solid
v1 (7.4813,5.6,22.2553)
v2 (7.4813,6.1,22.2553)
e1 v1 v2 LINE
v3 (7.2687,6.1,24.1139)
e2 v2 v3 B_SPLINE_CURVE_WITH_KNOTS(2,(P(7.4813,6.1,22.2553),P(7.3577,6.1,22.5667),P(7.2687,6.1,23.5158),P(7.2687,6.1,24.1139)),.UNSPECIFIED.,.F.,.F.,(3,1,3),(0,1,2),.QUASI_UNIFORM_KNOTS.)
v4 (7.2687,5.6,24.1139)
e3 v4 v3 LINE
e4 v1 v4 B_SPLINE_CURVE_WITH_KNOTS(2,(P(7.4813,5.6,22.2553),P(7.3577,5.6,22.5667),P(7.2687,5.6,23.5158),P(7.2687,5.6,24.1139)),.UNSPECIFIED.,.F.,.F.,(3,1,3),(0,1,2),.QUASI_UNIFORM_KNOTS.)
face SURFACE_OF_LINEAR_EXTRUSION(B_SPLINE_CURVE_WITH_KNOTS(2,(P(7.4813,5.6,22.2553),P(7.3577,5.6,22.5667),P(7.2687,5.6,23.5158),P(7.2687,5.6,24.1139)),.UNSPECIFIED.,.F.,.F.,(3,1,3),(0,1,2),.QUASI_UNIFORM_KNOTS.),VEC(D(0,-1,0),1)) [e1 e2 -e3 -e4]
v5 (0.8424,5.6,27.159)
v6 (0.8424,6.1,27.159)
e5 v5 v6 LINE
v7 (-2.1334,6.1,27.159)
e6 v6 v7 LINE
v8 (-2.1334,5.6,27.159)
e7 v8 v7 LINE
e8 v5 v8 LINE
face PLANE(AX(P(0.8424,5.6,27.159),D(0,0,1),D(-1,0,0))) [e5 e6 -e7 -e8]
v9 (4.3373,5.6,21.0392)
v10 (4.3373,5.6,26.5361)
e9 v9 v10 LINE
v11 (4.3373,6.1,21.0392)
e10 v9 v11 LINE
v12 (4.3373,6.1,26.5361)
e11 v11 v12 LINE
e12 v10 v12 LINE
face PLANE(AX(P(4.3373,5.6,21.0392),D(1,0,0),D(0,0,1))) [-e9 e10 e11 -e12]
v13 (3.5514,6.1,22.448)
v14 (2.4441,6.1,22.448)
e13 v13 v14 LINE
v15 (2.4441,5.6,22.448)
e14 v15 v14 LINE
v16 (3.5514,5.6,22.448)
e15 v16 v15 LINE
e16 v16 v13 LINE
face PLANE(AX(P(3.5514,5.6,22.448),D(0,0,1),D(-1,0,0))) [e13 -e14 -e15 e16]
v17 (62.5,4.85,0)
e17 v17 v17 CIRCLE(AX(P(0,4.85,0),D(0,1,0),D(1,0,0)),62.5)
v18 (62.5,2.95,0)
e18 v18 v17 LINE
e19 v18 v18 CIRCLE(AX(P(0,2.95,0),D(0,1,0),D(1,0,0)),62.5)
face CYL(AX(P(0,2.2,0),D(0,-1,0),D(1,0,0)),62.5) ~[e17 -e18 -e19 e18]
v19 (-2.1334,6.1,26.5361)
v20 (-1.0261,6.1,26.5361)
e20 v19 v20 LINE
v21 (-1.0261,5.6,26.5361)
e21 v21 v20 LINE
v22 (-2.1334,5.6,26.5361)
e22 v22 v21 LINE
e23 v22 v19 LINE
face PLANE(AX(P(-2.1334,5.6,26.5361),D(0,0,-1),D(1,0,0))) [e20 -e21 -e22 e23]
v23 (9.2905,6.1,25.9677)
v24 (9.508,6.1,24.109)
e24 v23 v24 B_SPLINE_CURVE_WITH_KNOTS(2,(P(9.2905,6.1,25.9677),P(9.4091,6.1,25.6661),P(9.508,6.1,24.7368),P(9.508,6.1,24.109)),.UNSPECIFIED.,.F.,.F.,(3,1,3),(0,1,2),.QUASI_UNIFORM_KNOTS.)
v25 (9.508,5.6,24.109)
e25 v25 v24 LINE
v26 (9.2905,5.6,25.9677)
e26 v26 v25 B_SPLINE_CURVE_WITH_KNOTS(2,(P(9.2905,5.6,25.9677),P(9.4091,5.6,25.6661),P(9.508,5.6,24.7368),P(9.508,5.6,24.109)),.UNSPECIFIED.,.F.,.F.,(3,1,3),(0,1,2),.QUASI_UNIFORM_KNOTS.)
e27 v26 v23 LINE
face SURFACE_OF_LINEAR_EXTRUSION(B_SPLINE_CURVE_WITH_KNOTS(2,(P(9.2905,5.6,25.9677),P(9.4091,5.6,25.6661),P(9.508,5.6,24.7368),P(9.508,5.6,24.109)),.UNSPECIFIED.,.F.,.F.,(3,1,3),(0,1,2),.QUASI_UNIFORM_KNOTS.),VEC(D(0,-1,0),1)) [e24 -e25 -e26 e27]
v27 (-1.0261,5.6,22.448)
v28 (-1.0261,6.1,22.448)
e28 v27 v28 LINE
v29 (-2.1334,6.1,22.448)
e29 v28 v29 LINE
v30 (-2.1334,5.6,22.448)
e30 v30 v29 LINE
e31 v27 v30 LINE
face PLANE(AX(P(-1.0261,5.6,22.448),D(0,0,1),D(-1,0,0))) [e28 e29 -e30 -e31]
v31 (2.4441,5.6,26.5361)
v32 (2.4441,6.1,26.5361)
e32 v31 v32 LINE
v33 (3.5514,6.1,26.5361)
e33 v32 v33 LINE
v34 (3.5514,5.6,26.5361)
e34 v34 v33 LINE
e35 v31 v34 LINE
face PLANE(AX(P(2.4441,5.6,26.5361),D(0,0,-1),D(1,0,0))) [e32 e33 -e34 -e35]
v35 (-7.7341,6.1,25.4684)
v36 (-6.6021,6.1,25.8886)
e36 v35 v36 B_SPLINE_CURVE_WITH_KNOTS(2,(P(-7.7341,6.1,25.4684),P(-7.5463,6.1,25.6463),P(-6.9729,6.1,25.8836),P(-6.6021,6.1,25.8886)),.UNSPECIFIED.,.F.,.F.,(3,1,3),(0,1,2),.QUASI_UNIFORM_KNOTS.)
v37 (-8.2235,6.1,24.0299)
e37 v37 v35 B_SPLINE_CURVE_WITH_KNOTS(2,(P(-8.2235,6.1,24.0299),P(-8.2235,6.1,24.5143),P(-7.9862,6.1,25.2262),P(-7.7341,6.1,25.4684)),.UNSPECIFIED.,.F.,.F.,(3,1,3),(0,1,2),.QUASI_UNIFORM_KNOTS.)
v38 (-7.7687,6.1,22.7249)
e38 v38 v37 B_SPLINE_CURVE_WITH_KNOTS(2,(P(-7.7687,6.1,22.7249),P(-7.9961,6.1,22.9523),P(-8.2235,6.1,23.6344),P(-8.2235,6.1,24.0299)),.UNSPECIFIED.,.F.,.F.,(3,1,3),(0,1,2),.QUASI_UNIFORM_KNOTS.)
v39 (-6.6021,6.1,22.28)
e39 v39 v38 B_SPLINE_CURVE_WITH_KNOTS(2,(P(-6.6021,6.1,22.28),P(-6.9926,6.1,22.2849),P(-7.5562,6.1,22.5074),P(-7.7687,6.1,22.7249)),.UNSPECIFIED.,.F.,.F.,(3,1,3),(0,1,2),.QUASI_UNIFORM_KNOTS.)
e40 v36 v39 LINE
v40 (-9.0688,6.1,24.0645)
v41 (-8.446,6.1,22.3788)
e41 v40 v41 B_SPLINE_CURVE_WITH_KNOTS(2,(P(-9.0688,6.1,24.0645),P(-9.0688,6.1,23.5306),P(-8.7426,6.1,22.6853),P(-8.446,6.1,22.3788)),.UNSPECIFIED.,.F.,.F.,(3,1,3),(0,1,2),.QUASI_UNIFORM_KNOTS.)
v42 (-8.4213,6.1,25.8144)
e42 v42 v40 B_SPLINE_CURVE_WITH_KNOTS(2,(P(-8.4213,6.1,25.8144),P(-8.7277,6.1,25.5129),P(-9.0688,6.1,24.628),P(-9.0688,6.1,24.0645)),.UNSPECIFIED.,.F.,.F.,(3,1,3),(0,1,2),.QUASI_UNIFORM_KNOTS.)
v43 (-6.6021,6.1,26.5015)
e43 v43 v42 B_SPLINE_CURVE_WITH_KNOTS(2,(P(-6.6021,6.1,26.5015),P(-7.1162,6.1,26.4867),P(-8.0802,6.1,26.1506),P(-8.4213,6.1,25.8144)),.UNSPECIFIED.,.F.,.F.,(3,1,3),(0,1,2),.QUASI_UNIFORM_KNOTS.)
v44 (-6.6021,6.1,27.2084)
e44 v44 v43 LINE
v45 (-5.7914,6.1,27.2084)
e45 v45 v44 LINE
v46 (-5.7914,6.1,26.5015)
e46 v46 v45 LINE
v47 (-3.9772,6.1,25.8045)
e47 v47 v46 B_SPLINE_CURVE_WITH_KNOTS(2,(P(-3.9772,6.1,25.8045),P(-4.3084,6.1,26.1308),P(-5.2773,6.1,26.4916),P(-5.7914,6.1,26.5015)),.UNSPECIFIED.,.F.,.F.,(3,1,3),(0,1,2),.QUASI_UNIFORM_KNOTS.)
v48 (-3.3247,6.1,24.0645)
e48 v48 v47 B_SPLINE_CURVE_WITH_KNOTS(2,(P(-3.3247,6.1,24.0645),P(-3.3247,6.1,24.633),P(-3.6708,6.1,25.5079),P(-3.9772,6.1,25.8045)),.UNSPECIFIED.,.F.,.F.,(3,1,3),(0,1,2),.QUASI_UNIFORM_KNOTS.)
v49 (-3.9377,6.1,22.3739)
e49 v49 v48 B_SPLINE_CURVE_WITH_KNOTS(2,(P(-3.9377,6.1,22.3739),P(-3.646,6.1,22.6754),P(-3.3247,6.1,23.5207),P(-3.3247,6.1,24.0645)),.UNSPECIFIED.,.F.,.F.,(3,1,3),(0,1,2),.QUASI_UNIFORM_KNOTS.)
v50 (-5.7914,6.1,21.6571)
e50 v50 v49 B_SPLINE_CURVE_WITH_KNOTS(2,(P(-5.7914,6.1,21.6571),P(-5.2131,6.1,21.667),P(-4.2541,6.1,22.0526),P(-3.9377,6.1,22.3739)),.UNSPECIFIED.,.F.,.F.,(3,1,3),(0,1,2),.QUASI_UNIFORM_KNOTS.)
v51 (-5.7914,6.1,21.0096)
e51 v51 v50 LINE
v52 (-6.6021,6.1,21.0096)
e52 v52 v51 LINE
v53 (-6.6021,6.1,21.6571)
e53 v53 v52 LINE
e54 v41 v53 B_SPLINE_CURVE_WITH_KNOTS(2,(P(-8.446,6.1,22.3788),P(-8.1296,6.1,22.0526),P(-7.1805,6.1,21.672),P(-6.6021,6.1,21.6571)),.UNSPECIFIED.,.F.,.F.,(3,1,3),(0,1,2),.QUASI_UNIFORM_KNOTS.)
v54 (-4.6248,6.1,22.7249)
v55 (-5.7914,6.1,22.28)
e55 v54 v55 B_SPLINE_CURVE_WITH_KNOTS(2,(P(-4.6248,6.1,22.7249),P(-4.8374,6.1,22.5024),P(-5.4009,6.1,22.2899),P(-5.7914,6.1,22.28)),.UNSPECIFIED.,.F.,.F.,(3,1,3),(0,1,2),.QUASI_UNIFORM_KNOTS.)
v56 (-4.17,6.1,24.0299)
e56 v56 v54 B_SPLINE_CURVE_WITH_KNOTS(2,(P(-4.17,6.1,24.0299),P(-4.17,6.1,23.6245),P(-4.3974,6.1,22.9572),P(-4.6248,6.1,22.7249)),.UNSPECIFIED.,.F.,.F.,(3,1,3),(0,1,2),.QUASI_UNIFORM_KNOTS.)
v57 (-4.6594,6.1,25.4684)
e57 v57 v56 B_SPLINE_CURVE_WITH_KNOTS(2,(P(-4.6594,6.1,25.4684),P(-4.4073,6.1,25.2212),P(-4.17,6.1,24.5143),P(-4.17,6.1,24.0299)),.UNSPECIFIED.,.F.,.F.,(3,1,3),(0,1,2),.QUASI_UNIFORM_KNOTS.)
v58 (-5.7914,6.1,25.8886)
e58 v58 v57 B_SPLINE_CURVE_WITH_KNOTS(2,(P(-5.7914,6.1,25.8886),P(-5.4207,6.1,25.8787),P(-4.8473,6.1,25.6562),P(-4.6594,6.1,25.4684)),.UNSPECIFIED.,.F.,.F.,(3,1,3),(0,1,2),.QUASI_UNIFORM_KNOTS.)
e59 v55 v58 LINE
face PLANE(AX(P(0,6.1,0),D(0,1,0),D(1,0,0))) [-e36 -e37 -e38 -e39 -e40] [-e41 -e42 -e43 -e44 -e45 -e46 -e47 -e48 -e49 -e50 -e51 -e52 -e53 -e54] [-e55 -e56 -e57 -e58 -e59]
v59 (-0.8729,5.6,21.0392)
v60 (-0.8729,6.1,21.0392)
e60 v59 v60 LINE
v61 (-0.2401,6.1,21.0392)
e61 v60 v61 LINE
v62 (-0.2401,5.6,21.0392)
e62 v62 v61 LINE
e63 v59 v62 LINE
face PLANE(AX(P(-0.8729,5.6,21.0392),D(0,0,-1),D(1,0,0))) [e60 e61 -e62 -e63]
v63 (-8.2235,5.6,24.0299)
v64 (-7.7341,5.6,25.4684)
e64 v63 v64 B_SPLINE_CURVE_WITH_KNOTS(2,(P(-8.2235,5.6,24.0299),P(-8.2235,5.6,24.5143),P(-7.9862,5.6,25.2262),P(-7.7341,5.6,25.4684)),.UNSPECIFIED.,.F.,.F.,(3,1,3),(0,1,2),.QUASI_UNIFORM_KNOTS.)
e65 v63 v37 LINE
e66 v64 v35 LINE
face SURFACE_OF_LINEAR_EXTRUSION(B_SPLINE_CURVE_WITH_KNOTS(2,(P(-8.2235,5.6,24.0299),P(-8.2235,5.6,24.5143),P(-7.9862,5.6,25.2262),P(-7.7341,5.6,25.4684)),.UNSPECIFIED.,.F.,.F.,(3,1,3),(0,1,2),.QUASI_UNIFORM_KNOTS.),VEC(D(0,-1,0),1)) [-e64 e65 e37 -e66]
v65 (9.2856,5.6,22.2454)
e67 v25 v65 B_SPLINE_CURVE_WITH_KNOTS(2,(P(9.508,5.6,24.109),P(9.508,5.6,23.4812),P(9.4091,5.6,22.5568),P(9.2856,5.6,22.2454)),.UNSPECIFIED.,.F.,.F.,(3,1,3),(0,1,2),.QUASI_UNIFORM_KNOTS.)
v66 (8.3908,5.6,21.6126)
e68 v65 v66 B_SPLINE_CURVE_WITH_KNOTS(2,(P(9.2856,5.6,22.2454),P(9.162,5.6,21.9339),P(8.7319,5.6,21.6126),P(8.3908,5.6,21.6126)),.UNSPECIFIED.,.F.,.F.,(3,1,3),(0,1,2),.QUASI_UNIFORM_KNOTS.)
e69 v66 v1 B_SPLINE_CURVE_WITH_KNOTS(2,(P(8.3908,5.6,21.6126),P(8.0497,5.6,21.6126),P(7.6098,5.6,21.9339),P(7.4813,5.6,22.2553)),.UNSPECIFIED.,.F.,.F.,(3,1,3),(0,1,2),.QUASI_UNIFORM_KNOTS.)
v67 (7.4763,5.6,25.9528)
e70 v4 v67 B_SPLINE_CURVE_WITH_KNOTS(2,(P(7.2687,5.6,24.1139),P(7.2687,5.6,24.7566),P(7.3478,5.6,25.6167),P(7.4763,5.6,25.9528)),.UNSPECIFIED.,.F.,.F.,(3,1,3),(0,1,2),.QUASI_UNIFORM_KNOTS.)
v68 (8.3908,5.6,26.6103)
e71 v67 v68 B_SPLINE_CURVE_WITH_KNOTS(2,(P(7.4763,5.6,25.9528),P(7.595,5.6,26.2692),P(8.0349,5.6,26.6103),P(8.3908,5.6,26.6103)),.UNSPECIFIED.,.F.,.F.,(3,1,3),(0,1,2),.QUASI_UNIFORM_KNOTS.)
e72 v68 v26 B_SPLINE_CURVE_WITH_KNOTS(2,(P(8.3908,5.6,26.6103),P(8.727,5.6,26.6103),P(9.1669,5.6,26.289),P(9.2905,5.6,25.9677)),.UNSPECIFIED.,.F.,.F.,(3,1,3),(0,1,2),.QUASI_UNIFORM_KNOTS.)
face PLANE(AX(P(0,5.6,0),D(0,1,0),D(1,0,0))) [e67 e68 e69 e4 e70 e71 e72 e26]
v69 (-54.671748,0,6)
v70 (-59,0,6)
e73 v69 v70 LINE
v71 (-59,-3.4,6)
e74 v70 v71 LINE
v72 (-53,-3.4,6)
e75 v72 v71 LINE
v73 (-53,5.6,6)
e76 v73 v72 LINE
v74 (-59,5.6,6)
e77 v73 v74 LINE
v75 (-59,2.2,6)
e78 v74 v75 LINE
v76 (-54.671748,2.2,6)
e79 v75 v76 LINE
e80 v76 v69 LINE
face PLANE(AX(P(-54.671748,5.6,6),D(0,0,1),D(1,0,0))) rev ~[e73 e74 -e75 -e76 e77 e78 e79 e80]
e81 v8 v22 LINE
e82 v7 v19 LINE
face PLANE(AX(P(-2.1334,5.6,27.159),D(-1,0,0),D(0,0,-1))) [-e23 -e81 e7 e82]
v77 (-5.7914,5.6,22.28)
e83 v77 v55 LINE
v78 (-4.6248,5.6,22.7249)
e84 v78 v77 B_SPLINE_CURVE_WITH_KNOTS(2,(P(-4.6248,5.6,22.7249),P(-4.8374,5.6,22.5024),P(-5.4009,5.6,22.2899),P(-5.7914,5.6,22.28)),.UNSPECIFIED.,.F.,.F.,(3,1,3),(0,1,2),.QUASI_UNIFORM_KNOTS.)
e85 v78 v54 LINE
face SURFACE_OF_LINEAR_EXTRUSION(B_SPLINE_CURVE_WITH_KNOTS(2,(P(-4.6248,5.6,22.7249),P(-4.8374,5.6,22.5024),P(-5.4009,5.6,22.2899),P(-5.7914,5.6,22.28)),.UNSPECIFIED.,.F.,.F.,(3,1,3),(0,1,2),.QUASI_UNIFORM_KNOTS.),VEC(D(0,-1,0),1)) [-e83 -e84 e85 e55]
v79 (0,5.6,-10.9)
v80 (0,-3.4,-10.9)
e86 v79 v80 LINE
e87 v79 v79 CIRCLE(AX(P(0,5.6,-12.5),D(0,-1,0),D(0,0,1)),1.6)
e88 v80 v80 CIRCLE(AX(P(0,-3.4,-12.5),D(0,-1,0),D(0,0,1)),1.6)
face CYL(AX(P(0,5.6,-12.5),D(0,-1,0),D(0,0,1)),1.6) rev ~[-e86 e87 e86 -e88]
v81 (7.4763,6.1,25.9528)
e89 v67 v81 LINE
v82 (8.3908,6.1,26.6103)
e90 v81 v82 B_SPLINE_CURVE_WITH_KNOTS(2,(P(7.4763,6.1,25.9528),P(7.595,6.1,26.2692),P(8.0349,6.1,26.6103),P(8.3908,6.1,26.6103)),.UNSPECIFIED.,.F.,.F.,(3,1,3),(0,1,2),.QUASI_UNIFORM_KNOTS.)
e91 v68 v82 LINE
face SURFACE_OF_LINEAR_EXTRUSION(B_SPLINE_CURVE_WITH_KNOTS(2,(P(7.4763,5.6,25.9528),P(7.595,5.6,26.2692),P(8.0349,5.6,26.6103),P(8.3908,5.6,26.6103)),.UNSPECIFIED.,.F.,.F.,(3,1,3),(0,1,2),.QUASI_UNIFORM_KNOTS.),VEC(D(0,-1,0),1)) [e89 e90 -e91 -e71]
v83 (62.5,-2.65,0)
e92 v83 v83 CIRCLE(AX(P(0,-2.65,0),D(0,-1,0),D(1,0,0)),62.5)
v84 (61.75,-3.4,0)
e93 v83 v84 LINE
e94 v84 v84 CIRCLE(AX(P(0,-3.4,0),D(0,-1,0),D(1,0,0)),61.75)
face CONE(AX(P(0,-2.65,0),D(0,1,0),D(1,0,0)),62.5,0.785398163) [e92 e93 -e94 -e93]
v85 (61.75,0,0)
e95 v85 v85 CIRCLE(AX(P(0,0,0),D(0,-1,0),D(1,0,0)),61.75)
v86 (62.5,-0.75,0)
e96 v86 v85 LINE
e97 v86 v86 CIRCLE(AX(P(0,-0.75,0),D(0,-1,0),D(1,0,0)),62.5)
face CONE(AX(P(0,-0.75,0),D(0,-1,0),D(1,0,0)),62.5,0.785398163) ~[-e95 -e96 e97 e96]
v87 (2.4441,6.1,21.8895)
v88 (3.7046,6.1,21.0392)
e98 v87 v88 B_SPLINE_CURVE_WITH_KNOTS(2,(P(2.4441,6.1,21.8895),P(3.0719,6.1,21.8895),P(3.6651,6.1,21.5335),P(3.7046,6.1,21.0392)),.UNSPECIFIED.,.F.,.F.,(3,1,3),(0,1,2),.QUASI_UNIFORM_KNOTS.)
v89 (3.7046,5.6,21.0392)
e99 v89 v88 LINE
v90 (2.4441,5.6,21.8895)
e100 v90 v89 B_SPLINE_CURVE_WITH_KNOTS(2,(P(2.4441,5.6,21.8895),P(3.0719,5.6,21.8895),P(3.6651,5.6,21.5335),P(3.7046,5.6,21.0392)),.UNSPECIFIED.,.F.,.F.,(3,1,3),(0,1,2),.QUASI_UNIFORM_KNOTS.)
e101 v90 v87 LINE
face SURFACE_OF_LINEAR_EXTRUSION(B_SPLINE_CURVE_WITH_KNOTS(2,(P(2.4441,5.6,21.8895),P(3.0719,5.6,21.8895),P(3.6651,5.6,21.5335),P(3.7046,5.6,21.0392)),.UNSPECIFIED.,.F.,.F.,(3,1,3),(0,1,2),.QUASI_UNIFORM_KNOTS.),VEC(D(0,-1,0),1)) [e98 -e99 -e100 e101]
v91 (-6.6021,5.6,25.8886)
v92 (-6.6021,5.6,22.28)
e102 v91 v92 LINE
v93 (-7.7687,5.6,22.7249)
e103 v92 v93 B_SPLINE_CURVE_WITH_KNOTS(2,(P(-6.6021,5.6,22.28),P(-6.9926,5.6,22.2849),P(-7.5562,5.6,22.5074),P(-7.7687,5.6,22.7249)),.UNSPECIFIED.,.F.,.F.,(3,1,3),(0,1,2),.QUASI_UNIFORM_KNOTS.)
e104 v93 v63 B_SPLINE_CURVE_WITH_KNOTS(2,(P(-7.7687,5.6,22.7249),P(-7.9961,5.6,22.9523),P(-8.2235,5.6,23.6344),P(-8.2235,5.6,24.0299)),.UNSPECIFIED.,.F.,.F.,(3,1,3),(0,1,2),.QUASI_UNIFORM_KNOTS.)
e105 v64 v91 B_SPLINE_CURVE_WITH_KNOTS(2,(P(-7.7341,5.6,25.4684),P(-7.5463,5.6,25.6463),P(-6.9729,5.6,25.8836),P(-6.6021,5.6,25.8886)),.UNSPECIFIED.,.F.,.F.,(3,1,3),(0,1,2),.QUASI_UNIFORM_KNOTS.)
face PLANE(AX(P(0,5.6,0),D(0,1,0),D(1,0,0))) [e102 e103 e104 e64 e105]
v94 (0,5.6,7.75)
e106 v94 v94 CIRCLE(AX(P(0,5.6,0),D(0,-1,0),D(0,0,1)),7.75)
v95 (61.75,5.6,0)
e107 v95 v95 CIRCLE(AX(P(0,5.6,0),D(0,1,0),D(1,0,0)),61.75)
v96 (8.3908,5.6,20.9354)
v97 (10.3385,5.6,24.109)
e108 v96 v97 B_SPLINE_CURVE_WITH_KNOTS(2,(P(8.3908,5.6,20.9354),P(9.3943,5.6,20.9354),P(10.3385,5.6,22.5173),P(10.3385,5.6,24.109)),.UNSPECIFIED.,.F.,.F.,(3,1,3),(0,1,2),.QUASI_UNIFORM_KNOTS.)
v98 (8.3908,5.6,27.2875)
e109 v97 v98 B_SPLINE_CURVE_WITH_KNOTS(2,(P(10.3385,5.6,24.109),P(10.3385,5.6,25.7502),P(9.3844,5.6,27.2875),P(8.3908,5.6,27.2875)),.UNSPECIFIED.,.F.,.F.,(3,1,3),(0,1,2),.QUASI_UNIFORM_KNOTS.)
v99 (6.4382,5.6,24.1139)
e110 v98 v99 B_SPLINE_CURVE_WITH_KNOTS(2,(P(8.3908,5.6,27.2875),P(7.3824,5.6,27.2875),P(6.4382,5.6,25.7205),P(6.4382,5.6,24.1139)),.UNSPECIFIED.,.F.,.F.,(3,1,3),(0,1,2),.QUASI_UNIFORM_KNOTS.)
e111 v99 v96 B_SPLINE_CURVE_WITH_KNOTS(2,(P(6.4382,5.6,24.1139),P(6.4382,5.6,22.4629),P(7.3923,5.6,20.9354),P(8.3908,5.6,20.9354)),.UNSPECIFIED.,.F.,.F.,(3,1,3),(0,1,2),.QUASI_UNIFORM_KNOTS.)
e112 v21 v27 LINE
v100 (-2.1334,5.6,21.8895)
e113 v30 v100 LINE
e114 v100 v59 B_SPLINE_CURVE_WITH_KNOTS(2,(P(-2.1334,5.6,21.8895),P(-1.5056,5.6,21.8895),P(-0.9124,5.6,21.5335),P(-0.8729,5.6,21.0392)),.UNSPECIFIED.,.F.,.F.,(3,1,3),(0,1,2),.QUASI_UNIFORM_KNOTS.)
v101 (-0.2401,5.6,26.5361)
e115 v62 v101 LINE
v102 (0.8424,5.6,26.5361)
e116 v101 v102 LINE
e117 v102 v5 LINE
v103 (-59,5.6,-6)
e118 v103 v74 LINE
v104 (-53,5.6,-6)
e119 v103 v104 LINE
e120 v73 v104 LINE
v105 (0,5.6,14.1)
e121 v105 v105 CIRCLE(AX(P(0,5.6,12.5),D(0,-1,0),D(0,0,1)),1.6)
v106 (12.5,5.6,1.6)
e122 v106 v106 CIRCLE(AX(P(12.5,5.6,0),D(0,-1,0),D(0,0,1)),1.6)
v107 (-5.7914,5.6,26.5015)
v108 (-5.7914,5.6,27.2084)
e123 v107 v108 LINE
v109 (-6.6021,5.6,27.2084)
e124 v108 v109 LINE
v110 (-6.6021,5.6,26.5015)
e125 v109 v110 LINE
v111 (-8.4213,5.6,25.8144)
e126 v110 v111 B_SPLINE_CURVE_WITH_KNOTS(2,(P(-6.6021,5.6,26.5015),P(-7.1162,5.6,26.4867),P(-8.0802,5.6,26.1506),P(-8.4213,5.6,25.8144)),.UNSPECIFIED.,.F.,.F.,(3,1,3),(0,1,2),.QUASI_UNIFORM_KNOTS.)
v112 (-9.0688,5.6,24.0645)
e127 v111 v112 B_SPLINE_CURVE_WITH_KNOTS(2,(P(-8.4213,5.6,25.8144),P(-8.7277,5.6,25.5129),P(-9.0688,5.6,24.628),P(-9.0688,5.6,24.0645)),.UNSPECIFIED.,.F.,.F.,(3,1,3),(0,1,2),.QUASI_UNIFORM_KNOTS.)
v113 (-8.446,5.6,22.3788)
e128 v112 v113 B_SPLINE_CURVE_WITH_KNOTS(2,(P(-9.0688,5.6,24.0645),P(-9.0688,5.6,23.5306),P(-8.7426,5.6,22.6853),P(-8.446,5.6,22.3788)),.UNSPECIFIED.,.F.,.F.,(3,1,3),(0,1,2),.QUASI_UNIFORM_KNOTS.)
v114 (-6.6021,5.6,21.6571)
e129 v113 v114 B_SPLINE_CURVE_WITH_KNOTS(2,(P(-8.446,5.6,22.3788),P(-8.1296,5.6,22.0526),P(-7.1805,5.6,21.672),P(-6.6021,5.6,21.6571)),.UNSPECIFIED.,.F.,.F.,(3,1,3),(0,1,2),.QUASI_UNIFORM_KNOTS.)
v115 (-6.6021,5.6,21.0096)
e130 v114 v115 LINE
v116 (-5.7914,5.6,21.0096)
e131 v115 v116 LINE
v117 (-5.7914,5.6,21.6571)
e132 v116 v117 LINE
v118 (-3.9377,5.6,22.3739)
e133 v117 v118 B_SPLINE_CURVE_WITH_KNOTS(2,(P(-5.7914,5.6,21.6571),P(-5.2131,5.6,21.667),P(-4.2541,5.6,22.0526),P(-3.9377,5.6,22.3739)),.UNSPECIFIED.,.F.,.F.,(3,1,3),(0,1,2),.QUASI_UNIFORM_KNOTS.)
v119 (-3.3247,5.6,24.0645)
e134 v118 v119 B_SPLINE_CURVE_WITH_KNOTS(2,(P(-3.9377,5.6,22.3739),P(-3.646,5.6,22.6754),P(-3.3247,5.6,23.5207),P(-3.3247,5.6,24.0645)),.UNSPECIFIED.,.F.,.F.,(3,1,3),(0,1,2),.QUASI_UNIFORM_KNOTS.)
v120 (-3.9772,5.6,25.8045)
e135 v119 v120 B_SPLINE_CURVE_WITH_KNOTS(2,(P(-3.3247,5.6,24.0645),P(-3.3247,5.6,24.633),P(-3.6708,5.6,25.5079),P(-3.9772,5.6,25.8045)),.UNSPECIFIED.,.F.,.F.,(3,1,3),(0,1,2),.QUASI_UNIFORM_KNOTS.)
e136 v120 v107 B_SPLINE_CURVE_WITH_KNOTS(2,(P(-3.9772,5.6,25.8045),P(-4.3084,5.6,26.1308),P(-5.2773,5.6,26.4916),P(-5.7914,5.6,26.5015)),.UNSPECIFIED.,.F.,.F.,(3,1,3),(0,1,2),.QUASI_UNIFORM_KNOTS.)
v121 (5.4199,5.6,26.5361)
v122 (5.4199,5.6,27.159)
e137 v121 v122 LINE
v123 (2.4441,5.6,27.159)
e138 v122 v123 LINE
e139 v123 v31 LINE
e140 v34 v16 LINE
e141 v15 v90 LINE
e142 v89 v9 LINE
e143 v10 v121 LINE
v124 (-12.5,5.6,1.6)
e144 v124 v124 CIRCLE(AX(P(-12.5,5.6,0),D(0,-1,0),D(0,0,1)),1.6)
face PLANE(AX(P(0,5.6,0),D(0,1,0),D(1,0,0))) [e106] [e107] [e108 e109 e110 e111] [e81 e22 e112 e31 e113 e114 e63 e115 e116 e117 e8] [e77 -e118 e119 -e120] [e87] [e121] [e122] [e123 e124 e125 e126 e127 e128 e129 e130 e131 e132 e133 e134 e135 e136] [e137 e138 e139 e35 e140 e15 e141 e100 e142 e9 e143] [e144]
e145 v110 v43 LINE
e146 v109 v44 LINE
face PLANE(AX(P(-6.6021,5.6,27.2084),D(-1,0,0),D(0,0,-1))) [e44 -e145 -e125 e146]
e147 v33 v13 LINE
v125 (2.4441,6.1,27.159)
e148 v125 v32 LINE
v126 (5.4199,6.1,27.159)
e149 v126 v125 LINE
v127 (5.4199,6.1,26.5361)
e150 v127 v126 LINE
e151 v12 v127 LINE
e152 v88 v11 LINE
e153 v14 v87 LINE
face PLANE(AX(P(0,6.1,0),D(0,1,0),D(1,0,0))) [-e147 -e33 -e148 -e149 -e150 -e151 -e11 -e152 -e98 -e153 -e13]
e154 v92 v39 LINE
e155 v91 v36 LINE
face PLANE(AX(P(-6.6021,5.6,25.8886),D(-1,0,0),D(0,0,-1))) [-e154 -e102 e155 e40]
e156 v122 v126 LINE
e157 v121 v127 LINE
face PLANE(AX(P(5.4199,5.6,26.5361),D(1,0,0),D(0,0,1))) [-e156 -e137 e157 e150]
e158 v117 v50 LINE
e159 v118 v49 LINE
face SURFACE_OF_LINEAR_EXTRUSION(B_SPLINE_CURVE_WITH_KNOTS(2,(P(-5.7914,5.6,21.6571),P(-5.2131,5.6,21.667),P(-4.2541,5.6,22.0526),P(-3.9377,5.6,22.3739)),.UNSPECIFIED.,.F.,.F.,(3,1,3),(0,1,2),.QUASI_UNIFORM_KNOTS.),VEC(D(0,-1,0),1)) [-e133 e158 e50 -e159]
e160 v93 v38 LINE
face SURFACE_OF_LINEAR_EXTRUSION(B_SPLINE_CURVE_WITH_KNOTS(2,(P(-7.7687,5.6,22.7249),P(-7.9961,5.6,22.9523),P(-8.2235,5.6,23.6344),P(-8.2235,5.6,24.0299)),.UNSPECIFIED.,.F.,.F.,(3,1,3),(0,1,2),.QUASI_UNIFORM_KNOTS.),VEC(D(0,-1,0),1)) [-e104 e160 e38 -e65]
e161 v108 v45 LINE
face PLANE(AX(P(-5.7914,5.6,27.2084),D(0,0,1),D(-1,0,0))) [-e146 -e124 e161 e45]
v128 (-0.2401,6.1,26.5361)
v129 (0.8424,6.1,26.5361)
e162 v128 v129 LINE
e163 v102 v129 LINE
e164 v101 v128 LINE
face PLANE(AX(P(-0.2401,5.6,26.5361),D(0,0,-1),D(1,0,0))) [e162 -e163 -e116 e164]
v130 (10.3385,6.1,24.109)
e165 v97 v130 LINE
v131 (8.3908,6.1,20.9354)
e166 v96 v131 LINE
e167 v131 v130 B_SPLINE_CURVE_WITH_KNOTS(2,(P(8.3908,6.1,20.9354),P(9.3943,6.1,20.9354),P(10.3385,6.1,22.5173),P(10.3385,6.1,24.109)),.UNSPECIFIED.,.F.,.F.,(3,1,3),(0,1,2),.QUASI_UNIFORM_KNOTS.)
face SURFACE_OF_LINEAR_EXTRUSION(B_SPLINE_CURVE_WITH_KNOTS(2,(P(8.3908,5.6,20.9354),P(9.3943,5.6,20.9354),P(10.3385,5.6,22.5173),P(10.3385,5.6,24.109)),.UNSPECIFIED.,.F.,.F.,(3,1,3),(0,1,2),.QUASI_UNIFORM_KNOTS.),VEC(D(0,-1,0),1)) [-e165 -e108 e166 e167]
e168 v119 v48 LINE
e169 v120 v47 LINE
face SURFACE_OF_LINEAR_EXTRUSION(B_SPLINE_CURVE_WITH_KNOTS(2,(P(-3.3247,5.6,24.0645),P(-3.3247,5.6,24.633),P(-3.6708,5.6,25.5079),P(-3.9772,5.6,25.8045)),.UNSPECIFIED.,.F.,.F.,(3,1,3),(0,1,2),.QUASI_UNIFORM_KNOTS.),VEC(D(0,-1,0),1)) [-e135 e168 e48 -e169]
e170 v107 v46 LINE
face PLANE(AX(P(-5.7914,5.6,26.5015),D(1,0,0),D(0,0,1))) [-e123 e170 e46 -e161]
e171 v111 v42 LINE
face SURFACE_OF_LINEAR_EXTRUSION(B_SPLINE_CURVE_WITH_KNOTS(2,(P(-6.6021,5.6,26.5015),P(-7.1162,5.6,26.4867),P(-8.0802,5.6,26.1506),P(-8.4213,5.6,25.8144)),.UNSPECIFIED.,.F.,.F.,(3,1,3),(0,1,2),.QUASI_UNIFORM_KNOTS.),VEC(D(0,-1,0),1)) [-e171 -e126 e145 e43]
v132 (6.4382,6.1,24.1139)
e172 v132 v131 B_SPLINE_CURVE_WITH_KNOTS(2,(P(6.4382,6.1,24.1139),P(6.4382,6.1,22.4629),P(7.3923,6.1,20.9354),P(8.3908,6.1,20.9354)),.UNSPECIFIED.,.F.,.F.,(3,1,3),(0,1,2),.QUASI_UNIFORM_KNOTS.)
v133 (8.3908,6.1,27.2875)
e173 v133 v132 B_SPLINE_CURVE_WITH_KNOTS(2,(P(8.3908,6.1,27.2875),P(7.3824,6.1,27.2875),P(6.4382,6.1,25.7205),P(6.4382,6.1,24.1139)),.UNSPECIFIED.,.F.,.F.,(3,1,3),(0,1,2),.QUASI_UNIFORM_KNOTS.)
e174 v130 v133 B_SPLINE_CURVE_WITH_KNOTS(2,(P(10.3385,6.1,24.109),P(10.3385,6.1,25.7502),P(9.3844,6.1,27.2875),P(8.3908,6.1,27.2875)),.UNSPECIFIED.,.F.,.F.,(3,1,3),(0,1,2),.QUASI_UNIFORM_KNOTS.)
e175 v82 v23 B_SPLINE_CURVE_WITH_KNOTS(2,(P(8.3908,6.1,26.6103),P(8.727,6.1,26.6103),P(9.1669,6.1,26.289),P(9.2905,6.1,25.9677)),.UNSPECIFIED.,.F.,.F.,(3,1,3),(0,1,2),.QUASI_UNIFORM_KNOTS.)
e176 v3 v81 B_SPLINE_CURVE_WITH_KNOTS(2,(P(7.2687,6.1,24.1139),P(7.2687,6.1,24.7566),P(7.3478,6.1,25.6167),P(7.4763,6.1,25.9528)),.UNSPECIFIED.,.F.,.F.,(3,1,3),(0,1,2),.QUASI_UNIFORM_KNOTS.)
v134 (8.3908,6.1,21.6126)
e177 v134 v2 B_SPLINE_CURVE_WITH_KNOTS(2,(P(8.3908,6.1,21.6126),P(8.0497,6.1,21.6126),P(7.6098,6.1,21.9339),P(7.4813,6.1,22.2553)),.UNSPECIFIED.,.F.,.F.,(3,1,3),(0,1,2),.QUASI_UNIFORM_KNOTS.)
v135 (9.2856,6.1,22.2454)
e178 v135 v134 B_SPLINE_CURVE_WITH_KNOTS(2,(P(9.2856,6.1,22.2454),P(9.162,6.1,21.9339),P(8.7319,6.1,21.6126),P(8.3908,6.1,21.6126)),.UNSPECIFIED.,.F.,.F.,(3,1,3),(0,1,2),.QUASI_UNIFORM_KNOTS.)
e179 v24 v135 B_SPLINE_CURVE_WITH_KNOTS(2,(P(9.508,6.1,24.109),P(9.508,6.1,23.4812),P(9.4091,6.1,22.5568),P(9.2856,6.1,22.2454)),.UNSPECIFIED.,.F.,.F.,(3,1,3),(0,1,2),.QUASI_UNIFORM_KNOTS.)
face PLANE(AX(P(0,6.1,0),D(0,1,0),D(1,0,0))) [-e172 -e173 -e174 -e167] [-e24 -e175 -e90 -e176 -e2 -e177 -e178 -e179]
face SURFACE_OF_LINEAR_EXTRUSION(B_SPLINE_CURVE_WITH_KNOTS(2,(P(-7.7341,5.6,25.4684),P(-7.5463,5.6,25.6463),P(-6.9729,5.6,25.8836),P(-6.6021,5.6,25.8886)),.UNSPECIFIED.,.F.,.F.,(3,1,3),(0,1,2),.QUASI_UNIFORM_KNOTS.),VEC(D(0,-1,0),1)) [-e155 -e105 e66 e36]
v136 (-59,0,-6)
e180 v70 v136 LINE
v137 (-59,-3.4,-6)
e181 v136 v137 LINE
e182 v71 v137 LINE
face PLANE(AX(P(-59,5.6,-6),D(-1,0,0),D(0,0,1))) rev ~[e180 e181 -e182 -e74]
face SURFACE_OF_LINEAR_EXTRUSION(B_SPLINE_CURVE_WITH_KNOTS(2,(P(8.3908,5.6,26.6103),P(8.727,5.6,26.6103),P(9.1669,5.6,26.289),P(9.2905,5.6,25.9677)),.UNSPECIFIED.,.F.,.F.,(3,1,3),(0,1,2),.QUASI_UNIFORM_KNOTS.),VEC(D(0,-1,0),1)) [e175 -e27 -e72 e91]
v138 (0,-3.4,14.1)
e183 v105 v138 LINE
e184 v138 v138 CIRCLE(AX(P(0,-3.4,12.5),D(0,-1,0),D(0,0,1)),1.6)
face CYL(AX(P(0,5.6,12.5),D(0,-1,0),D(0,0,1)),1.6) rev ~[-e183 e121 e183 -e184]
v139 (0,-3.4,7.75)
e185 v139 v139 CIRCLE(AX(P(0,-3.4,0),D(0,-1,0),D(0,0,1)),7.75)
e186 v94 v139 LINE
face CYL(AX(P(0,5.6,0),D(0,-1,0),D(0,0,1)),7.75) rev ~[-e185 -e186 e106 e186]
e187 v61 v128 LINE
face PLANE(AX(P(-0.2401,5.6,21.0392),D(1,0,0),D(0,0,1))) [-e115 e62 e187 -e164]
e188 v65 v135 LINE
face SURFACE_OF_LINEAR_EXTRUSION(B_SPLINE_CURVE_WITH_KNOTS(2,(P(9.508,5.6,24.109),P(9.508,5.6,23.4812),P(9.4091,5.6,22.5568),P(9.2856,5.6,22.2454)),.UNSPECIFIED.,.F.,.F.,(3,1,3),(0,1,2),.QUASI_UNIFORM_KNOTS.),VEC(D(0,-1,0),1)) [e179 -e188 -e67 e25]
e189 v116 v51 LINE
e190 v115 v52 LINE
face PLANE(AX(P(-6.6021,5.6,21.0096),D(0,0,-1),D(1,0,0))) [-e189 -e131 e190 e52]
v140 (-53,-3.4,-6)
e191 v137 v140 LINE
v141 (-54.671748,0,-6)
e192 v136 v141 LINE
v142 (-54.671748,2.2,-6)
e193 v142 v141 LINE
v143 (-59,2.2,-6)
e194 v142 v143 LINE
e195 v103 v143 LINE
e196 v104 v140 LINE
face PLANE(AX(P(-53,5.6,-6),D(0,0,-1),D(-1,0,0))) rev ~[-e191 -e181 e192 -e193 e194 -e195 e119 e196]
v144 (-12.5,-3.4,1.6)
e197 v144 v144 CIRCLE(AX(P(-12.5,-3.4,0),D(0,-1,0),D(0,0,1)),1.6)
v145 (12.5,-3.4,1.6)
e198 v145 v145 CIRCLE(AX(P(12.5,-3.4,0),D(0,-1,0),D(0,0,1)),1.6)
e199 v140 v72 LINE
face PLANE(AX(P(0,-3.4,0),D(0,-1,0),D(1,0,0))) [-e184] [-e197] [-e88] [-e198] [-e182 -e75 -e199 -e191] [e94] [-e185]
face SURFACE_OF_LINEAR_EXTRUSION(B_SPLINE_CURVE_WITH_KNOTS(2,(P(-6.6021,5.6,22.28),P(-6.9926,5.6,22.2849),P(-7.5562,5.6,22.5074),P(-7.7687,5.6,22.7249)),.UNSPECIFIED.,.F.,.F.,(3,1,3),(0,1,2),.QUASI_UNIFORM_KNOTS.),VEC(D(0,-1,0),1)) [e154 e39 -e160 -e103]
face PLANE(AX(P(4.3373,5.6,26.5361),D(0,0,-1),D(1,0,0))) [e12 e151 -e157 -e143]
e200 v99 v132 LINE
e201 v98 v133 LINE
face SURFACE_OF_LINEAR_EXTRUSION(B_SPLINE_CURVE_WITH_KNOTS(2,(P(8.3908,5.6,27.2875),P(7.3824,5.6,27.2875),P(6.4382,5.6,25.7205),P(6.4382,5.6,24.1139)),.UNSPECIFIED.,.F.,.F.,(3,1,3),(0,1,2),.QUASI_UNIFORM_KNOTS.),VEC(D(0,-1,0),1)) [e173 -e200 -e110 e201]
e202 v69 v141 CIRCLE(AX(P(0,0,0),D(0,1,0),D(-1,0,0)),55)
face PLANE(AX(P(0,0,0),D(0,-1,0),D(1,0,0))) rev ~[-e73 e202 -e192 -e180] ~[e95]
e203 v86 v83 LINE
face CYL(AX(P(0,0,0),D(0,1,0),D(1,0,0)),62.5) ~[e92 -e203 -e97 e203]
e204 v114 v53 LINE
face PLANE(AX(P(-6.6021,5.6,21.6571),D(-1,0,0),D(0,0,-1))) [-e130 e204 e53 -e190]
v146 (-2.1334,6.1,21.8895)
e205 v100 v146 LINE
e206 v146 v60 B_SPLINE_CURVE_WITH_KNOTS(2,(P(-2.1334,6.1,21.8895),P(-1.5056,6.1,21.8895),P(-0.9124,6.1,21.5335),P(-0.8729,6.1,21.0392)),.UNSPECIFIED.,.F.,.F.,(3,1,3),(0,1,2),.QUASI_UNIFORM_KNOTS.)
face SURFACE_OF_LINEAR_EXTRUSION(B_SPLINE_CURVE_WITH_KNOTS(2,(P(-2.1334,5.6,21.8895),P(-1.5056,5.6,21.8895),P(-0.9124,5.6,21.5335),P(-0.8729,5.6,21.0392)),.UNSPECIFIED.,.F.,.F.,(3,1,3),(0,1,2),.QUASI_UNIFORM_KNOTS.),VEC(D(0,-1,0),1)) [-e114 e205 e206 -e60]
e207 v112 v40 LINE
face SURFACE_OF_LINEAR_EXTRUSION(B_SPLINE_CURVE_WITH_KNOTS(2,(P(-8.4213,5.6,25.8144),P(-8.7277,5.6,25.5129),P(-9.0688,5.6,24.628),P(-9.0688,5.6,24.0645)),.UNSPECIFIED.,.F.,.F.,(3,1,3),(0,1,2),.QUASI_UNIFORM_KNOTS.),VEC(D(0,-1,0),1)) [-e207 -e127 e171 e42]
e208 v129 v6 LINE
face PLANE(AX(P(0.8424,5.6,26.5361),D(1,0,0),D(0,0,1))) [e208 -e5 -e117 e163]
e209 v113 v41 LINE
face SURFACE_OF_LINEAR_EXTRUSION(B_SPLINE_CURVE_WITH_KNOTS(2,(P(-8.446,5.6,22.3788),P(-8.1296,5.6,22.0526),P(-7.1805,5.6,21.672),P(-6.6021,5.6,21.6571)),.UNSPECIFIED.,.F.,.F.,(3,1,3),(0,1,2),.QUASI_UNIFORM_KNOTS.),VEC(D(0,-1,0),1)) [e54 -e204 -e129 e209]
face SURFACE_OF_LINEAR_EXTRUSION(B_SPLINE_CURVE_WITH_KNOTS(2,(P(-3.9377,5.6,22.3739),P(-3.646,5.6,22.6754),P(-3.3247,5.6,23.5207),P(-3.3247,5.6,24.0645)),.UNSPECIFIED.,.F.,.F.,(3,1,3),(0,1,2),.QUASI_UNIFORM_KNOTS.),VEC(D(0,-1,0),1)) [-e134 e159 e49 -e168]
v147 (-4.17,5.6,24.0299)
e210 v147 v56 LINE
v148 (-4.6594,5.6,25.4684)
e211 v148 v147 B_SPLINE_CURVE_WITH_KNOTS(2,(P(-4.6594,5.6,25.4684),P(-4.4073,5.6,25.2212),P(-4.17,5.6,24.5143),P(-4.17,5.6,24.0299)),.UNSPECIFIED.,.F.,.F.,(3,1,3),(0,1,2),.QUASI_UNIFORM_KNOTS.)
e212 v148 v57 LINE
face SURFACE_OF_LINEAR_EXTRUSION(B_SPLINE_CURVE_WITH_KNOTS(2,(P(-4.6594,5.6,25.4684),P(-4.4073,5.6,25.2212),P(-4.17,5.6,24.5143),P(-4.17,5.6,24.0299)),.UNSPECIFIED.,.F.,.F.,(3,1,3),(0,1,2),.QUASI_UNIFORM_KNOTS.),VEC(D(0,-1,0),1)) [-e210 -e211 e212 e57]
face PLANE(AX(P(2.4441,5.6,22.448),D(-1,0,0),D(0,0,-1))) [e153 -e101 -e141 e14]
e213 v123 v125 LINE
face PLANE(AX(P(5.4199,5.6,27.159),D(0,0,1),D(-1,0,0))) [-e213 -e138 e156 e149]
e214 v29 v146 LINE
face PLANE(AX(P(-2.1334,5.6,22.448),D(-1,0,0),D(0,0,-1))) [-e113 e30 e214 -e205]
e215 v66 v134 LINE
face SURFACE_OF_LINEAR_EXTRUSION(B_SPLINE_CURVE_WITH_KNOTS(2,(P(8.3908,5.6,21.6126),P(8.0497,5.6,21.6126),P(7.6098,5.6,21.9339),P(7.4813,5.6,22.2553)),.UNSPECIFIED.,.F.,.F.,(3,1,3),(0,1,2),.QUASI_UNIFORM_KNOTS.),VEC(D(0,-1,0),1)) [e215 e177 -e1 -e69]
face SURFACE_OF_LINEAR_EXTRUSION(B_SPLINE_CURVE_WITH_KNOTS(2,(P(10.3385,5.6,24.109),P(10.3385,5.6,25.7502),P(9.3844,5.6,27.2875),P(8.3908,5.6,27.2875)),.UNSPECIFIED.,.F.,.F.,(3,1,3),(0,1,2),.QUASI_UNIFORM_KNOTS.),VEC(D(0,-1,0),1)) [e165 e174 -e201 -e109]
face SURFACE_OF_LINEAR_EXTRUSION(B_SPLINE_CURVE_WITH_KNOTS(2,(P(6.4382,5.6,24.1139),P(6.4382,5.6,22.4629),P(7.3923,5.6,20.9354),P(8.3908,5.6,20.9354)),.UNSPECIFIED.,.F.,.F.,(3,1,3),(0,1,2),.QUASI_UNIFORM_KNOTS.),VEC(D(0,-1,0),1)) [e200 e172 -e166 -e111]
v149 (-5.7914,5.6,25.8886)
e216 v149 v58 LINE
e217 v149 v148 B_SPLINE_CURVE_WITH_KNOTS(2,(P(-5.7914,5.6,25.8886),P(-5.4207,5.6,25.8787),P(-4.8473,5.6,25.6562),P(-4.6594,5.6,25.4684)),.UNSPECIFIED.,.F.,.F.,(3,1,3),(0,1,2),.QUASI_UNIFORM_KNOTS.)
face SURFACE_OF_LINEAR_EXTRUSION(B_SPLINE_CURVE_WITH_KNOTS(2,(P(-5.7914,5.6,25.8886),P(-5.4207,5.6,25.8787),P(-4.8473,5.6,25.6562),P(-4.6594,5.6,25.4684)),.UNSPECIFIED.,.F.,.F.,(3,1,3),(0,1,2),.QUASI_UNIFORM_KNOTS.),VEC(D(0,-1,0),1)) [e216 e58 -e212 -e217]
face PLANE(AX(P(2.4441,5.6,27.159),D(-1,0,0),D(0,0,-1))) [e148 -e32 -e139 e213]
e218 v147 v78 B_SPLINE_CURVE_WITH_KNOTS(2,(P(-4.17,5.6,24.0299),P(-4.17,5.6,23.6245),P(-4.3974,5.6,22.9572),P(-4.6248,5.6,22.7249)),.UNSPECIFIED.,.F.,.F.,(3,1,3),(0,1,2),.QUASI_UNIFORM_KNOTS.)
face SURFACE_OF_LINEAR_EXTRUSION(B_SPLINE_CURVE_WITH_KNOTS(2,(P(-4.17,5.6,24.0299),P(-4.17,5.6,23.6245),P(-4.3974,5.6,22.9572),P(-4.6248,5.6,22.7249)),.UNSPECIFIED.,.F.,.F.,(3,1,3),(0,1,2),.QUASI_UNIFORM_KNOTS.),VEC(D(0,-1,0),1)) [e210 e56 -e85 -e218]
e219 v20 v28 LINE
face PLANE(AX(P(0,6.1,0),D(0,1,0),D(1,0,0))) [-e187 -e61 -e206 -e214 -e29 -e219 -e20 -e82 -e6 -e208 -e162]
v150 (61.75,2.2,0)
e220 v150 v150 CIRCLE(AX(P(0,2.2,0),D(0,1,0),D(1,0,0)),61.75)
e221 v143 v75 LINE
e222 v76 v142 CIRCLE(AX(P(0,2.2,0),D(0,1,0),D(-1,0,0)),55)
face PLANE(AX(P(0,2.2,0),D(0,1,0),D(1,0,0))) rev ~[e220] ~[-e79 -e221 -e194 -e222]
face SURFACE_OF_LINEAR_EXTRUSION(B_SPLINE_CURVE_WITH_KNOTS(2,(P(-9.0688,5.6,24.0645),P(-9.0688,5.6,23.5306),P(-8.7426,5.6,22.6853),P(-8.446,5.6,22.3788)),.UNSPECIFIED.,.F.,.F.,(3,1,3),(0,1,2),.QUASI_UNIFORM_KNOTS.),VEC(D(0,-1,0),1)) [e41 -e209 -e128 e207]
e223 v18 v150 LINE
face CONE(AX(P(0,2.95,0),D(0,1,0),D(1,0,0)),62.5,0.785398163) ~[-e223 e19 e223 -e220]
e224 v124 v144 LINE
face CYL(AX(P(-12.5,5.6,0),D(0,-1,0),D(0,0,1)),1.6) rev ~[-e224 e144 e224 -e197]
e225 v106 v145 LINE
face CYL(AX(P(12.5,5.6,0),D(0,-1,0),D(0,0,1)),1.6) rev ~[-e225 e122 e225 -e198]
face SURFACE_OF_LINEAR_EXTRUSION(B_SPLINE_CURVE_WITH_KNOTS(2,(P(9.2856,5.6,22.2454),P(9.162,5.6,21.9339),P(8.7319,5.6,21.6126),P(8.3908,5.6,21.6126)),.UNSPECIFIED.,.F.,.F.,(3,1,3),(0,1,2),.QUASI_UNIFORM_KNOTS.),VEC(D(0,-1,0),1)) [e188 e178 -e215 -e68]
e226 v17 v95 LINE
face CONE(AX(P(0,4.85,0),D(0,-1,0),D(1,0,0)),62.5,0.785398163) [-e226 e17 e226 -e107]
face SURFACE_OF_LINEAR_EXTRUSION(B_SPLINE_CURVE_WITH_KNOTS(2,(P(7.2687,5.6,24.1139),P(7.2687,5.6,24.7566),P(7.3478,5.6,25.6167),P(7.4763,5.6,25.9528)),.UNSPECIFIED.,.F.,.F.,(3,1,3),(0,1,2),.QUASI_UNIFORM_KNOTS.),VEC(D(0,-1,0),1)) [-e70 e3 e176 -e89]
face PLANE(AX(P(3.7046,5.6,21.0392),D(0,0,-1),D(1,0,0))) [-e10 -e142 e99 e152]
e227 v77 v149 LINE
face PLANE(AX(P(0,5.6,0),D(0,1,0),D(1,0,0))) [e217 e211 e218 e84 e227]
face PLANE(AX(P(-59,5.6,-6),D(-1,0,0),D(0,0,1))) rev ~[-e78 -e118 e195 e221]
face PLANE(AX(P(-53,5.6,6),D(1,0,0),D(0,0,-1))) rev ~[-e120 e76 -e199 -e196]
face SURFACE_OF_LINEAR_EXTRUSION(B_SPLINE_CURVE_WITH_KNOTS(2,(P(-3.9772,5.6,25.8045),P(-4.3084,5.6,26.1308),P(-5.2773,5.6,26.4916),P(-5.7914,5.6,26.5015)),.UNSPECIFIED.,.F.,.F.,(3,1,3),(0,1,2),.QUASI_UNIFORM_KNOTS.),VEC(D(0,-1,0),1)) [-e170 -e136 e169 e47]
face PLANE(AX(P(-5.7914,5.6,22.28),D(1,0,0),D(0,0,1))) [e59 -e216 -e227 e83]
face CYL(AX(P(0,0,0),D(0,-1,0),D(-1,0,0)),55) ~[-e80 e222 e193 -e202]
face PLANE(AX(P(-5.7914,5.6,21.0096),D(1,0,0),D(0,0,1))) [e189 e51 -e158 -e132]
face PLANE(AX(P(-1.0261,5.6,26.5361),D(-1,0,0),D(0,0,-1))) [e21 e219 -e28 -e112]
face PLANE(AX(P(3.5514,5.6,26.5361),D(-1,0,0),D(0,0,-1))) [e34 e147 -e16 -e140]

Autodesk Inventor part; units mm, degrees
ref_plane "YZ Plane" through (0, 0, 0) normal (1, 0, 0) x (0, 1, 0)
ref_plane "XZ Plane" through (0, 0, 0) normal (0, 1, 0) x (-1, 0, 0)
ref_plane "XY Plane" through (0, 0, 0) normal (0, 0, 1) x (1, 0, 0)
sketch "スケッチ1" plane through (0, 0, 0) normal (0, 1, 0) x (-1, 0, 0)
  circle A0 centre (0, 0) radius 55
  dimension "d0" = 110
extrude "押し出し1" add sketch "スケッチ1" along normal blind 2.2
sketch "スケッチ2" plane through (0, 2.2, 0) normal (0, 1, 0) x (1, 0, 0)
  circle A0 centre (0, 0) radius 62.5
  line L0 (-4.8484, -32.3614) -> (6.4919, -32.3614) construction
  line L1 (6.4919, -32.3614) -> (6.4919, -37.029) construction
  line L2 (6.4919, -37.029) -> (-4.8484, -37.029) construction
  line L3 (-4.8484, -37.029) -> (-4.8484, -32.3614) construction
  dimension "d3" = 125
extrude "押し出し2" add sketch "スケッチ2" along normal blind 3.4
chamfer "面取り1" distance 0.75 angle 45 1 edges at (-62.5, 2.2, 0)
chamfer "面取り2" distance 0.75 angle 45 1 edges at (-62.5, 5.6, 0)
sketch "スケッチ3" plane through (0, 0, 0) normal (0, -1, 0) x (1, 0, 0)
  circle A0 centre (0, 0) radius 62.5
  dimension "d12" = 125
extrude "押し出し3" add sketch "スケッチ3" along normal blind 3.4
chamfer "面取り3" distance 0.75 angle 45 1 edges at (-62.5, 0, 0)
chamfer "面取り4" distance 0.75 angle 45 1 edges at (-62.5, -3.4, 0)
sketch "スケッチ6" plane through (0, 5.6, 0) normal (0, 1, 0) x (1, 0, 0)
  circle A0 centre (0, 0) radius 7.65
  line L0 (0, 7.65) -> (46.8799, 7.65)
  circle A1 centre (0, 0) radius 47.5 projected
  line L1 (0, -7.65) -> (46.8799, -7.65)
  dimension "d39" = 15.3
extrude "押し出し5" [suppressed]
chamfer "面取り7" [suppressed]
chamfer "面取り8" [suppressed]
chamfer "面取り9" [suppressed]
sketch "スケッチ7" plane through (0, 5.6, 0) normal (0, 1, 0) x (1, 0, 0)
  line L0 (-9.3358, -20.9354) -> (21.308, -20.9354) construction
  line L1 (21.308, -20.9354) -> (21.308, -27.5341) construction
  line L2 (21.308, -27.5341) -> (-9.3358, -27.5341) construction
  line L3 (-9.3358, -27.5341) -> (-9.3358, -20.9354) construction
  spline S0 degree 2 poles (-5.7914, -21.6571) (-5.2131, -21.667) (-4.2541, -22.0526) (-3.9377, -22.3739) knots 0 0 0 1 2 2 2
  spline S1 degree 2 poles (-3.9377, -22.3739) (-3.646, -22.6754) (-3.3247, -23.5207) (-3.3247, -24.0645) knots 0 0 0 1 2 2 2
  spline S2 degree 2 poles (-3.3247, -24.0645) (-3.3247, -24.633) (-3.6708, -25.5079) (-3.9772, -25.8045) knots 0 0 0 1 2 2 2
  spline S3 degree 2 poles (-3.9772, -25.8045) (-4.3084, -26.1308) (-5.2773, -26.4916) (-5.7914, -26.5015) knots 0 0 0 1 2 2 2
  line L4 (-5.7914, -26.5015) -> (-5.7914, -27.2084)
  line L5 (-5.7914, -27.2084) -> (-6.6021, -27.2084)
  line L6 (-6.6021, -27.2084) -> (-6.6021, -26.5015)
  spline S4 degree 2 poles (-6.6021, -26.5015) (-7.1162, -26.4867) (-8.0802, -26.1506) (-8.4213, -25.8144) knots 0 0 0 1 2 2 2
  spline S5 degree 2 poles (-8.4213, -25.8144) (-8.7277, -25.5129) (-9.0688, -24.628) (-9.0688, -24.0645) knots 0 0 0 1 2 2 2
  spline S6 degree 2 poles (-9.0688, -24.0645) (-9.0688, -23.5306) (-8.7426, -22.6853) (-8.446, -22.3788) knots 0 0 0 1 2 2 2
  spline S7 degree 2 poles (-8.446, -22.3788) (-8.1296, -22.0526) (-7.1805, -21.672) (-6.6021, -21.6571) knots 0 0 0 1 2 2 2
  line L7 (-6.6021, -21.6571) -> (-6.6021, -21.0096)
  line L8 (-6.6021, -21.0096) -> (-5.7914, -21.0096)
  line L9 (-5.7914, -21.0096) -> (-5.7914, -21.6571)
  spline S8 degree 2 poles (-5.7914, -25.8886) (-5.4207, -25.8787) (-4.8473, -25.6562) (-4.6594, -25.4684) knots 0 0 0 1 2 2 2
  spline S9 degree 2 poles (-4.6594, -25.4684) (-4.4073, -25.2212) (-4.17, -24.5143) (-4.17, -24.0299) knots 0 0 0 1 2 2 2
  spline S10 degree 2 poles (-4.17, -24.0299) (-4.17, -23.6245) (-4.3974, -22.9572) (-4.6248, -22.7249) knots 0 0 0 1 2 2 2
  spline S11 degree 2 poles (-4.6248, -22.7249) (-4.8374, -22.5024) (-5.4009, -22.2899) (-5.7914, -22.28) knots 0 0 0 1 2 2 2
  line L10 (-5.7914, -22.28) -> (-5.7914, -25.8886)
  spline S12 degree 2 poles (-6.6021, -22.28) (-6.9926, -22.2849) (-7.5562, -22.5074) (-7.7687, -22.7249) knots 0 0 0 1 2 2 2
  spline S13 degree 2 poles (-7.7687, -22.7249) (-7.9961, -22.9523) (-8.2235, -23.6344) (-8.2235, -24.0299) knots 0 0 0 1 2 2 2
  spline S14 degree 2 poles (-8.2235, -24.0299) (-8.2235, -24.5143) (-7.9862, -25.2262) (-7.7341, -25.4684) knots 0 0 0 1 2 2 2
  spline S15 degree 2 poles (-7.7341, -25.4684) (-7.5463, -25.6463) (-6.9729, -25.8836) (-6.6021, -25.8886) knots 0 0 0 1 2 2 2
  line L11 (-6.6021, -25.8886) -> (-6.6021, -22.28)
  line L12 (0.8424, -27.159) -> (-2.1334, -27.159)
  line L13 (-2.1334, -27.159) -> (-2.1334, -26.5361)
  line L14 (-2.1334, -26.5361) -> (-1.0261, -26.5361)
  line L15 (-1.0261, -26.5361) -> (-1.0261, -22.448)
  line L16 (-1.0261, -22.448) -> (-2.1334, -22.448)
  line L17 (-2.1334, -22.448) -> (-2.1334, -21.8895)
  spline S16 degree 2 poles (-2.1334, -21.8895) (-1.5056, -21.8895) (-0.9124, -21.5335) (-0.8729, -21.0392) knots 0 0 0 1 2 2 2
  line L18 (-0.8729, -21.0392) -> (-0.2401, -21.0392)
  line L19 (-0.2401, -21.0392) -> (-0.2401, -26.5361)
  line L20 (-0.2401, -26.5361) -> (0.8424, -26.5361)
  line L21 (0.8424, -26.5361) -> (0.8424, -27.159)
  line L22 (5.4199, -27.159) -> (2.4441, -27.159)
  line L23 (2.4441, -27.159) -> (2.4441, -26.5361)
  line L24 (2.4441, -26.5361) -> (3.5514, -26.5361)
  line L25 (3.5514, -26.5361) -> (3.5514, -22.448)
  line L26 (3.5514, -22.448) -> (2.4441, -22.448)
  line L27 (2.4441, -22.448) -> (2.4441, -21.8895)
  spline S17 degree 2 poles (2.4441, -21.8895) (3.0719, -21.8895) (3.6651, -21.5335) (3.7046, -21.0392) knots 0 0 0 1 2 2 2
  line L28 (3.7046, -21.0392) -> (4.3373, -21.0392)
  line L29 (4.3373, -21.0392) -> (4.3373, -26.5361)
  line L30 (4.3373, -26.5361) -> (5.4199, -26.5361)
  line L31 (5.4199, -26.5361) -> (5.4199, -27.159)
  spline S18 degree 2 poles (10.3385, -24.109) (10.3385, -25.7502) (9.3844, -27.2875) (8.3908, -27.2875) knots 0 0 0 1 2 2 2
  spline S19 degree 2 poles (8.3908, -27.2875) (7.3824, -27.2875) (6.4382, -25.7205) (6.4382, -24.1139) knots 0 0 0 1 2 2 2
  spline S20 degree 2 poles (6.4382, -24.1139) (6.4382, -22.4629) (7.3923, -20.9354) (8.3908, -20.9354) knots 0 0 0 1 2 2 2
  spline S21 degree 2 poles (8.3908, -20.9354) (9.3943, -20.9354) (10.3385, -22.5173) (10.3385, -24.109) knots 0 0 0 1 2 2 2
  spline S22 degree 2 poles (9.2905, -25.9677) (9.4091, -25.6661) (9.508, -24.7368) (9.508, -24.109) knots 0 0 0 1 2 2 2
  spline S23 degree 2 poles (9.508, -24.109) (9.508, -23.4812) (9.4091, -22.5568) (9.2856, -22.2454) knots 0 0 0 1 2 2 2
  spline S24 degree 2 poles (9.2856, -22.2454) (9.162, -21.9339) (8.7319, -21.6126) (8.3908, -21.6126) knots 0 0 0 1 2 2 2
  spline S25 degree 2 poles (8.3908, -21.6126) (8.0497, -21.6126) (7.6098, -21.9339) (7.4813, -22.2553) knots 0 0 0 1 2 2 2
  spline S26 degree 2 poles (7.4813, -22.2553) (7.3577, -22.5667) (7.2687, -23.5158) (7.2687, -24.1139) knots 0 0 0 1 2 2 2
  spline S27 degree 2 poles (7.2687, -24.1139) (7.2687, -24.7566) (7.3478, -25.6167) (7.4763, -25.9528) knots 0 0 0 1 2 2 2
  spline S28 degree 2 poles (7.4763, -25.9528) (7.595, -26.2692) (8.0349, -26.6103) (8.3908, -26.6103) knots 0 0 0 1 2 2 2
  spline S29 degree 2 poles (8.3908, -26.6103) (8.727, -26.6103) (9.1669, -26.289) (9.2905, -25.9677) knots 0 0 0 1 2 2 2
  point P0 (0, 0)
extrude "押し出し6" add sketch "スケッチ7" along normal blind 0.5
sketch "スケッチ8" plane through (0, 5.6, 0) normal (0, 1, 0) x (1, 0, 0)
  line L0 (-53, 6) -> (-59, 6)
  line L1 (-59, 6) -> (-59, -6)
  line L2 (-59, -6) -> (-53, -6)
  line L3 (-53, -6) -> (-53, 6)
  circle A0 centre (0, 0) radius 55 projected
  point P0 (-56, -6)
  point P1 (-56, 6)
  point P2 (-55, 0)
  point P3 (-55, 0)
  dimension "d53" = 12
  dimension "d54" = 6
  dimension "d55" = 53
extrude "押し出し7" cut sketch "スケッチ8" against normal blind 10 contours L3 L2 A0 L0 | A0 L2 L1 L0 picked at (-53.6545, -0.6678)
sketch "スケッチ9" plane through (0, 5.6, 0) normal (0, 1, 0) x (1, 0, 0)
  point P0 (0, 0)
  point P1 (0, 0)
hole "穴2" at (0, 5.6, 0) direction (0, -1, 0) diameter 15.5 end through all
sketch "スケッチ10" plane through (0, 5.6, 0) normal (0, 1, 0) x (1, 0, 0)
  circle A0 centre (0, 0) radius 12.5 construction
  point P0 (0, -12.5)
  point P1 (12.5, 0)
  point P2 (0, 12.5)
  point P3 (-12.5, 0)
  dimension "d67" = 25
  dimension "d81" = 360
hole "穴3" at (0, 5.6, 12.5) at (-12.5, 5.6, 0) at (0, 5.6, -12.5) at (12.5, 5.6, 0) direction (0, -1, 0) diameter 3.2 end through all
properties part number "pully_shoulder2_110"
